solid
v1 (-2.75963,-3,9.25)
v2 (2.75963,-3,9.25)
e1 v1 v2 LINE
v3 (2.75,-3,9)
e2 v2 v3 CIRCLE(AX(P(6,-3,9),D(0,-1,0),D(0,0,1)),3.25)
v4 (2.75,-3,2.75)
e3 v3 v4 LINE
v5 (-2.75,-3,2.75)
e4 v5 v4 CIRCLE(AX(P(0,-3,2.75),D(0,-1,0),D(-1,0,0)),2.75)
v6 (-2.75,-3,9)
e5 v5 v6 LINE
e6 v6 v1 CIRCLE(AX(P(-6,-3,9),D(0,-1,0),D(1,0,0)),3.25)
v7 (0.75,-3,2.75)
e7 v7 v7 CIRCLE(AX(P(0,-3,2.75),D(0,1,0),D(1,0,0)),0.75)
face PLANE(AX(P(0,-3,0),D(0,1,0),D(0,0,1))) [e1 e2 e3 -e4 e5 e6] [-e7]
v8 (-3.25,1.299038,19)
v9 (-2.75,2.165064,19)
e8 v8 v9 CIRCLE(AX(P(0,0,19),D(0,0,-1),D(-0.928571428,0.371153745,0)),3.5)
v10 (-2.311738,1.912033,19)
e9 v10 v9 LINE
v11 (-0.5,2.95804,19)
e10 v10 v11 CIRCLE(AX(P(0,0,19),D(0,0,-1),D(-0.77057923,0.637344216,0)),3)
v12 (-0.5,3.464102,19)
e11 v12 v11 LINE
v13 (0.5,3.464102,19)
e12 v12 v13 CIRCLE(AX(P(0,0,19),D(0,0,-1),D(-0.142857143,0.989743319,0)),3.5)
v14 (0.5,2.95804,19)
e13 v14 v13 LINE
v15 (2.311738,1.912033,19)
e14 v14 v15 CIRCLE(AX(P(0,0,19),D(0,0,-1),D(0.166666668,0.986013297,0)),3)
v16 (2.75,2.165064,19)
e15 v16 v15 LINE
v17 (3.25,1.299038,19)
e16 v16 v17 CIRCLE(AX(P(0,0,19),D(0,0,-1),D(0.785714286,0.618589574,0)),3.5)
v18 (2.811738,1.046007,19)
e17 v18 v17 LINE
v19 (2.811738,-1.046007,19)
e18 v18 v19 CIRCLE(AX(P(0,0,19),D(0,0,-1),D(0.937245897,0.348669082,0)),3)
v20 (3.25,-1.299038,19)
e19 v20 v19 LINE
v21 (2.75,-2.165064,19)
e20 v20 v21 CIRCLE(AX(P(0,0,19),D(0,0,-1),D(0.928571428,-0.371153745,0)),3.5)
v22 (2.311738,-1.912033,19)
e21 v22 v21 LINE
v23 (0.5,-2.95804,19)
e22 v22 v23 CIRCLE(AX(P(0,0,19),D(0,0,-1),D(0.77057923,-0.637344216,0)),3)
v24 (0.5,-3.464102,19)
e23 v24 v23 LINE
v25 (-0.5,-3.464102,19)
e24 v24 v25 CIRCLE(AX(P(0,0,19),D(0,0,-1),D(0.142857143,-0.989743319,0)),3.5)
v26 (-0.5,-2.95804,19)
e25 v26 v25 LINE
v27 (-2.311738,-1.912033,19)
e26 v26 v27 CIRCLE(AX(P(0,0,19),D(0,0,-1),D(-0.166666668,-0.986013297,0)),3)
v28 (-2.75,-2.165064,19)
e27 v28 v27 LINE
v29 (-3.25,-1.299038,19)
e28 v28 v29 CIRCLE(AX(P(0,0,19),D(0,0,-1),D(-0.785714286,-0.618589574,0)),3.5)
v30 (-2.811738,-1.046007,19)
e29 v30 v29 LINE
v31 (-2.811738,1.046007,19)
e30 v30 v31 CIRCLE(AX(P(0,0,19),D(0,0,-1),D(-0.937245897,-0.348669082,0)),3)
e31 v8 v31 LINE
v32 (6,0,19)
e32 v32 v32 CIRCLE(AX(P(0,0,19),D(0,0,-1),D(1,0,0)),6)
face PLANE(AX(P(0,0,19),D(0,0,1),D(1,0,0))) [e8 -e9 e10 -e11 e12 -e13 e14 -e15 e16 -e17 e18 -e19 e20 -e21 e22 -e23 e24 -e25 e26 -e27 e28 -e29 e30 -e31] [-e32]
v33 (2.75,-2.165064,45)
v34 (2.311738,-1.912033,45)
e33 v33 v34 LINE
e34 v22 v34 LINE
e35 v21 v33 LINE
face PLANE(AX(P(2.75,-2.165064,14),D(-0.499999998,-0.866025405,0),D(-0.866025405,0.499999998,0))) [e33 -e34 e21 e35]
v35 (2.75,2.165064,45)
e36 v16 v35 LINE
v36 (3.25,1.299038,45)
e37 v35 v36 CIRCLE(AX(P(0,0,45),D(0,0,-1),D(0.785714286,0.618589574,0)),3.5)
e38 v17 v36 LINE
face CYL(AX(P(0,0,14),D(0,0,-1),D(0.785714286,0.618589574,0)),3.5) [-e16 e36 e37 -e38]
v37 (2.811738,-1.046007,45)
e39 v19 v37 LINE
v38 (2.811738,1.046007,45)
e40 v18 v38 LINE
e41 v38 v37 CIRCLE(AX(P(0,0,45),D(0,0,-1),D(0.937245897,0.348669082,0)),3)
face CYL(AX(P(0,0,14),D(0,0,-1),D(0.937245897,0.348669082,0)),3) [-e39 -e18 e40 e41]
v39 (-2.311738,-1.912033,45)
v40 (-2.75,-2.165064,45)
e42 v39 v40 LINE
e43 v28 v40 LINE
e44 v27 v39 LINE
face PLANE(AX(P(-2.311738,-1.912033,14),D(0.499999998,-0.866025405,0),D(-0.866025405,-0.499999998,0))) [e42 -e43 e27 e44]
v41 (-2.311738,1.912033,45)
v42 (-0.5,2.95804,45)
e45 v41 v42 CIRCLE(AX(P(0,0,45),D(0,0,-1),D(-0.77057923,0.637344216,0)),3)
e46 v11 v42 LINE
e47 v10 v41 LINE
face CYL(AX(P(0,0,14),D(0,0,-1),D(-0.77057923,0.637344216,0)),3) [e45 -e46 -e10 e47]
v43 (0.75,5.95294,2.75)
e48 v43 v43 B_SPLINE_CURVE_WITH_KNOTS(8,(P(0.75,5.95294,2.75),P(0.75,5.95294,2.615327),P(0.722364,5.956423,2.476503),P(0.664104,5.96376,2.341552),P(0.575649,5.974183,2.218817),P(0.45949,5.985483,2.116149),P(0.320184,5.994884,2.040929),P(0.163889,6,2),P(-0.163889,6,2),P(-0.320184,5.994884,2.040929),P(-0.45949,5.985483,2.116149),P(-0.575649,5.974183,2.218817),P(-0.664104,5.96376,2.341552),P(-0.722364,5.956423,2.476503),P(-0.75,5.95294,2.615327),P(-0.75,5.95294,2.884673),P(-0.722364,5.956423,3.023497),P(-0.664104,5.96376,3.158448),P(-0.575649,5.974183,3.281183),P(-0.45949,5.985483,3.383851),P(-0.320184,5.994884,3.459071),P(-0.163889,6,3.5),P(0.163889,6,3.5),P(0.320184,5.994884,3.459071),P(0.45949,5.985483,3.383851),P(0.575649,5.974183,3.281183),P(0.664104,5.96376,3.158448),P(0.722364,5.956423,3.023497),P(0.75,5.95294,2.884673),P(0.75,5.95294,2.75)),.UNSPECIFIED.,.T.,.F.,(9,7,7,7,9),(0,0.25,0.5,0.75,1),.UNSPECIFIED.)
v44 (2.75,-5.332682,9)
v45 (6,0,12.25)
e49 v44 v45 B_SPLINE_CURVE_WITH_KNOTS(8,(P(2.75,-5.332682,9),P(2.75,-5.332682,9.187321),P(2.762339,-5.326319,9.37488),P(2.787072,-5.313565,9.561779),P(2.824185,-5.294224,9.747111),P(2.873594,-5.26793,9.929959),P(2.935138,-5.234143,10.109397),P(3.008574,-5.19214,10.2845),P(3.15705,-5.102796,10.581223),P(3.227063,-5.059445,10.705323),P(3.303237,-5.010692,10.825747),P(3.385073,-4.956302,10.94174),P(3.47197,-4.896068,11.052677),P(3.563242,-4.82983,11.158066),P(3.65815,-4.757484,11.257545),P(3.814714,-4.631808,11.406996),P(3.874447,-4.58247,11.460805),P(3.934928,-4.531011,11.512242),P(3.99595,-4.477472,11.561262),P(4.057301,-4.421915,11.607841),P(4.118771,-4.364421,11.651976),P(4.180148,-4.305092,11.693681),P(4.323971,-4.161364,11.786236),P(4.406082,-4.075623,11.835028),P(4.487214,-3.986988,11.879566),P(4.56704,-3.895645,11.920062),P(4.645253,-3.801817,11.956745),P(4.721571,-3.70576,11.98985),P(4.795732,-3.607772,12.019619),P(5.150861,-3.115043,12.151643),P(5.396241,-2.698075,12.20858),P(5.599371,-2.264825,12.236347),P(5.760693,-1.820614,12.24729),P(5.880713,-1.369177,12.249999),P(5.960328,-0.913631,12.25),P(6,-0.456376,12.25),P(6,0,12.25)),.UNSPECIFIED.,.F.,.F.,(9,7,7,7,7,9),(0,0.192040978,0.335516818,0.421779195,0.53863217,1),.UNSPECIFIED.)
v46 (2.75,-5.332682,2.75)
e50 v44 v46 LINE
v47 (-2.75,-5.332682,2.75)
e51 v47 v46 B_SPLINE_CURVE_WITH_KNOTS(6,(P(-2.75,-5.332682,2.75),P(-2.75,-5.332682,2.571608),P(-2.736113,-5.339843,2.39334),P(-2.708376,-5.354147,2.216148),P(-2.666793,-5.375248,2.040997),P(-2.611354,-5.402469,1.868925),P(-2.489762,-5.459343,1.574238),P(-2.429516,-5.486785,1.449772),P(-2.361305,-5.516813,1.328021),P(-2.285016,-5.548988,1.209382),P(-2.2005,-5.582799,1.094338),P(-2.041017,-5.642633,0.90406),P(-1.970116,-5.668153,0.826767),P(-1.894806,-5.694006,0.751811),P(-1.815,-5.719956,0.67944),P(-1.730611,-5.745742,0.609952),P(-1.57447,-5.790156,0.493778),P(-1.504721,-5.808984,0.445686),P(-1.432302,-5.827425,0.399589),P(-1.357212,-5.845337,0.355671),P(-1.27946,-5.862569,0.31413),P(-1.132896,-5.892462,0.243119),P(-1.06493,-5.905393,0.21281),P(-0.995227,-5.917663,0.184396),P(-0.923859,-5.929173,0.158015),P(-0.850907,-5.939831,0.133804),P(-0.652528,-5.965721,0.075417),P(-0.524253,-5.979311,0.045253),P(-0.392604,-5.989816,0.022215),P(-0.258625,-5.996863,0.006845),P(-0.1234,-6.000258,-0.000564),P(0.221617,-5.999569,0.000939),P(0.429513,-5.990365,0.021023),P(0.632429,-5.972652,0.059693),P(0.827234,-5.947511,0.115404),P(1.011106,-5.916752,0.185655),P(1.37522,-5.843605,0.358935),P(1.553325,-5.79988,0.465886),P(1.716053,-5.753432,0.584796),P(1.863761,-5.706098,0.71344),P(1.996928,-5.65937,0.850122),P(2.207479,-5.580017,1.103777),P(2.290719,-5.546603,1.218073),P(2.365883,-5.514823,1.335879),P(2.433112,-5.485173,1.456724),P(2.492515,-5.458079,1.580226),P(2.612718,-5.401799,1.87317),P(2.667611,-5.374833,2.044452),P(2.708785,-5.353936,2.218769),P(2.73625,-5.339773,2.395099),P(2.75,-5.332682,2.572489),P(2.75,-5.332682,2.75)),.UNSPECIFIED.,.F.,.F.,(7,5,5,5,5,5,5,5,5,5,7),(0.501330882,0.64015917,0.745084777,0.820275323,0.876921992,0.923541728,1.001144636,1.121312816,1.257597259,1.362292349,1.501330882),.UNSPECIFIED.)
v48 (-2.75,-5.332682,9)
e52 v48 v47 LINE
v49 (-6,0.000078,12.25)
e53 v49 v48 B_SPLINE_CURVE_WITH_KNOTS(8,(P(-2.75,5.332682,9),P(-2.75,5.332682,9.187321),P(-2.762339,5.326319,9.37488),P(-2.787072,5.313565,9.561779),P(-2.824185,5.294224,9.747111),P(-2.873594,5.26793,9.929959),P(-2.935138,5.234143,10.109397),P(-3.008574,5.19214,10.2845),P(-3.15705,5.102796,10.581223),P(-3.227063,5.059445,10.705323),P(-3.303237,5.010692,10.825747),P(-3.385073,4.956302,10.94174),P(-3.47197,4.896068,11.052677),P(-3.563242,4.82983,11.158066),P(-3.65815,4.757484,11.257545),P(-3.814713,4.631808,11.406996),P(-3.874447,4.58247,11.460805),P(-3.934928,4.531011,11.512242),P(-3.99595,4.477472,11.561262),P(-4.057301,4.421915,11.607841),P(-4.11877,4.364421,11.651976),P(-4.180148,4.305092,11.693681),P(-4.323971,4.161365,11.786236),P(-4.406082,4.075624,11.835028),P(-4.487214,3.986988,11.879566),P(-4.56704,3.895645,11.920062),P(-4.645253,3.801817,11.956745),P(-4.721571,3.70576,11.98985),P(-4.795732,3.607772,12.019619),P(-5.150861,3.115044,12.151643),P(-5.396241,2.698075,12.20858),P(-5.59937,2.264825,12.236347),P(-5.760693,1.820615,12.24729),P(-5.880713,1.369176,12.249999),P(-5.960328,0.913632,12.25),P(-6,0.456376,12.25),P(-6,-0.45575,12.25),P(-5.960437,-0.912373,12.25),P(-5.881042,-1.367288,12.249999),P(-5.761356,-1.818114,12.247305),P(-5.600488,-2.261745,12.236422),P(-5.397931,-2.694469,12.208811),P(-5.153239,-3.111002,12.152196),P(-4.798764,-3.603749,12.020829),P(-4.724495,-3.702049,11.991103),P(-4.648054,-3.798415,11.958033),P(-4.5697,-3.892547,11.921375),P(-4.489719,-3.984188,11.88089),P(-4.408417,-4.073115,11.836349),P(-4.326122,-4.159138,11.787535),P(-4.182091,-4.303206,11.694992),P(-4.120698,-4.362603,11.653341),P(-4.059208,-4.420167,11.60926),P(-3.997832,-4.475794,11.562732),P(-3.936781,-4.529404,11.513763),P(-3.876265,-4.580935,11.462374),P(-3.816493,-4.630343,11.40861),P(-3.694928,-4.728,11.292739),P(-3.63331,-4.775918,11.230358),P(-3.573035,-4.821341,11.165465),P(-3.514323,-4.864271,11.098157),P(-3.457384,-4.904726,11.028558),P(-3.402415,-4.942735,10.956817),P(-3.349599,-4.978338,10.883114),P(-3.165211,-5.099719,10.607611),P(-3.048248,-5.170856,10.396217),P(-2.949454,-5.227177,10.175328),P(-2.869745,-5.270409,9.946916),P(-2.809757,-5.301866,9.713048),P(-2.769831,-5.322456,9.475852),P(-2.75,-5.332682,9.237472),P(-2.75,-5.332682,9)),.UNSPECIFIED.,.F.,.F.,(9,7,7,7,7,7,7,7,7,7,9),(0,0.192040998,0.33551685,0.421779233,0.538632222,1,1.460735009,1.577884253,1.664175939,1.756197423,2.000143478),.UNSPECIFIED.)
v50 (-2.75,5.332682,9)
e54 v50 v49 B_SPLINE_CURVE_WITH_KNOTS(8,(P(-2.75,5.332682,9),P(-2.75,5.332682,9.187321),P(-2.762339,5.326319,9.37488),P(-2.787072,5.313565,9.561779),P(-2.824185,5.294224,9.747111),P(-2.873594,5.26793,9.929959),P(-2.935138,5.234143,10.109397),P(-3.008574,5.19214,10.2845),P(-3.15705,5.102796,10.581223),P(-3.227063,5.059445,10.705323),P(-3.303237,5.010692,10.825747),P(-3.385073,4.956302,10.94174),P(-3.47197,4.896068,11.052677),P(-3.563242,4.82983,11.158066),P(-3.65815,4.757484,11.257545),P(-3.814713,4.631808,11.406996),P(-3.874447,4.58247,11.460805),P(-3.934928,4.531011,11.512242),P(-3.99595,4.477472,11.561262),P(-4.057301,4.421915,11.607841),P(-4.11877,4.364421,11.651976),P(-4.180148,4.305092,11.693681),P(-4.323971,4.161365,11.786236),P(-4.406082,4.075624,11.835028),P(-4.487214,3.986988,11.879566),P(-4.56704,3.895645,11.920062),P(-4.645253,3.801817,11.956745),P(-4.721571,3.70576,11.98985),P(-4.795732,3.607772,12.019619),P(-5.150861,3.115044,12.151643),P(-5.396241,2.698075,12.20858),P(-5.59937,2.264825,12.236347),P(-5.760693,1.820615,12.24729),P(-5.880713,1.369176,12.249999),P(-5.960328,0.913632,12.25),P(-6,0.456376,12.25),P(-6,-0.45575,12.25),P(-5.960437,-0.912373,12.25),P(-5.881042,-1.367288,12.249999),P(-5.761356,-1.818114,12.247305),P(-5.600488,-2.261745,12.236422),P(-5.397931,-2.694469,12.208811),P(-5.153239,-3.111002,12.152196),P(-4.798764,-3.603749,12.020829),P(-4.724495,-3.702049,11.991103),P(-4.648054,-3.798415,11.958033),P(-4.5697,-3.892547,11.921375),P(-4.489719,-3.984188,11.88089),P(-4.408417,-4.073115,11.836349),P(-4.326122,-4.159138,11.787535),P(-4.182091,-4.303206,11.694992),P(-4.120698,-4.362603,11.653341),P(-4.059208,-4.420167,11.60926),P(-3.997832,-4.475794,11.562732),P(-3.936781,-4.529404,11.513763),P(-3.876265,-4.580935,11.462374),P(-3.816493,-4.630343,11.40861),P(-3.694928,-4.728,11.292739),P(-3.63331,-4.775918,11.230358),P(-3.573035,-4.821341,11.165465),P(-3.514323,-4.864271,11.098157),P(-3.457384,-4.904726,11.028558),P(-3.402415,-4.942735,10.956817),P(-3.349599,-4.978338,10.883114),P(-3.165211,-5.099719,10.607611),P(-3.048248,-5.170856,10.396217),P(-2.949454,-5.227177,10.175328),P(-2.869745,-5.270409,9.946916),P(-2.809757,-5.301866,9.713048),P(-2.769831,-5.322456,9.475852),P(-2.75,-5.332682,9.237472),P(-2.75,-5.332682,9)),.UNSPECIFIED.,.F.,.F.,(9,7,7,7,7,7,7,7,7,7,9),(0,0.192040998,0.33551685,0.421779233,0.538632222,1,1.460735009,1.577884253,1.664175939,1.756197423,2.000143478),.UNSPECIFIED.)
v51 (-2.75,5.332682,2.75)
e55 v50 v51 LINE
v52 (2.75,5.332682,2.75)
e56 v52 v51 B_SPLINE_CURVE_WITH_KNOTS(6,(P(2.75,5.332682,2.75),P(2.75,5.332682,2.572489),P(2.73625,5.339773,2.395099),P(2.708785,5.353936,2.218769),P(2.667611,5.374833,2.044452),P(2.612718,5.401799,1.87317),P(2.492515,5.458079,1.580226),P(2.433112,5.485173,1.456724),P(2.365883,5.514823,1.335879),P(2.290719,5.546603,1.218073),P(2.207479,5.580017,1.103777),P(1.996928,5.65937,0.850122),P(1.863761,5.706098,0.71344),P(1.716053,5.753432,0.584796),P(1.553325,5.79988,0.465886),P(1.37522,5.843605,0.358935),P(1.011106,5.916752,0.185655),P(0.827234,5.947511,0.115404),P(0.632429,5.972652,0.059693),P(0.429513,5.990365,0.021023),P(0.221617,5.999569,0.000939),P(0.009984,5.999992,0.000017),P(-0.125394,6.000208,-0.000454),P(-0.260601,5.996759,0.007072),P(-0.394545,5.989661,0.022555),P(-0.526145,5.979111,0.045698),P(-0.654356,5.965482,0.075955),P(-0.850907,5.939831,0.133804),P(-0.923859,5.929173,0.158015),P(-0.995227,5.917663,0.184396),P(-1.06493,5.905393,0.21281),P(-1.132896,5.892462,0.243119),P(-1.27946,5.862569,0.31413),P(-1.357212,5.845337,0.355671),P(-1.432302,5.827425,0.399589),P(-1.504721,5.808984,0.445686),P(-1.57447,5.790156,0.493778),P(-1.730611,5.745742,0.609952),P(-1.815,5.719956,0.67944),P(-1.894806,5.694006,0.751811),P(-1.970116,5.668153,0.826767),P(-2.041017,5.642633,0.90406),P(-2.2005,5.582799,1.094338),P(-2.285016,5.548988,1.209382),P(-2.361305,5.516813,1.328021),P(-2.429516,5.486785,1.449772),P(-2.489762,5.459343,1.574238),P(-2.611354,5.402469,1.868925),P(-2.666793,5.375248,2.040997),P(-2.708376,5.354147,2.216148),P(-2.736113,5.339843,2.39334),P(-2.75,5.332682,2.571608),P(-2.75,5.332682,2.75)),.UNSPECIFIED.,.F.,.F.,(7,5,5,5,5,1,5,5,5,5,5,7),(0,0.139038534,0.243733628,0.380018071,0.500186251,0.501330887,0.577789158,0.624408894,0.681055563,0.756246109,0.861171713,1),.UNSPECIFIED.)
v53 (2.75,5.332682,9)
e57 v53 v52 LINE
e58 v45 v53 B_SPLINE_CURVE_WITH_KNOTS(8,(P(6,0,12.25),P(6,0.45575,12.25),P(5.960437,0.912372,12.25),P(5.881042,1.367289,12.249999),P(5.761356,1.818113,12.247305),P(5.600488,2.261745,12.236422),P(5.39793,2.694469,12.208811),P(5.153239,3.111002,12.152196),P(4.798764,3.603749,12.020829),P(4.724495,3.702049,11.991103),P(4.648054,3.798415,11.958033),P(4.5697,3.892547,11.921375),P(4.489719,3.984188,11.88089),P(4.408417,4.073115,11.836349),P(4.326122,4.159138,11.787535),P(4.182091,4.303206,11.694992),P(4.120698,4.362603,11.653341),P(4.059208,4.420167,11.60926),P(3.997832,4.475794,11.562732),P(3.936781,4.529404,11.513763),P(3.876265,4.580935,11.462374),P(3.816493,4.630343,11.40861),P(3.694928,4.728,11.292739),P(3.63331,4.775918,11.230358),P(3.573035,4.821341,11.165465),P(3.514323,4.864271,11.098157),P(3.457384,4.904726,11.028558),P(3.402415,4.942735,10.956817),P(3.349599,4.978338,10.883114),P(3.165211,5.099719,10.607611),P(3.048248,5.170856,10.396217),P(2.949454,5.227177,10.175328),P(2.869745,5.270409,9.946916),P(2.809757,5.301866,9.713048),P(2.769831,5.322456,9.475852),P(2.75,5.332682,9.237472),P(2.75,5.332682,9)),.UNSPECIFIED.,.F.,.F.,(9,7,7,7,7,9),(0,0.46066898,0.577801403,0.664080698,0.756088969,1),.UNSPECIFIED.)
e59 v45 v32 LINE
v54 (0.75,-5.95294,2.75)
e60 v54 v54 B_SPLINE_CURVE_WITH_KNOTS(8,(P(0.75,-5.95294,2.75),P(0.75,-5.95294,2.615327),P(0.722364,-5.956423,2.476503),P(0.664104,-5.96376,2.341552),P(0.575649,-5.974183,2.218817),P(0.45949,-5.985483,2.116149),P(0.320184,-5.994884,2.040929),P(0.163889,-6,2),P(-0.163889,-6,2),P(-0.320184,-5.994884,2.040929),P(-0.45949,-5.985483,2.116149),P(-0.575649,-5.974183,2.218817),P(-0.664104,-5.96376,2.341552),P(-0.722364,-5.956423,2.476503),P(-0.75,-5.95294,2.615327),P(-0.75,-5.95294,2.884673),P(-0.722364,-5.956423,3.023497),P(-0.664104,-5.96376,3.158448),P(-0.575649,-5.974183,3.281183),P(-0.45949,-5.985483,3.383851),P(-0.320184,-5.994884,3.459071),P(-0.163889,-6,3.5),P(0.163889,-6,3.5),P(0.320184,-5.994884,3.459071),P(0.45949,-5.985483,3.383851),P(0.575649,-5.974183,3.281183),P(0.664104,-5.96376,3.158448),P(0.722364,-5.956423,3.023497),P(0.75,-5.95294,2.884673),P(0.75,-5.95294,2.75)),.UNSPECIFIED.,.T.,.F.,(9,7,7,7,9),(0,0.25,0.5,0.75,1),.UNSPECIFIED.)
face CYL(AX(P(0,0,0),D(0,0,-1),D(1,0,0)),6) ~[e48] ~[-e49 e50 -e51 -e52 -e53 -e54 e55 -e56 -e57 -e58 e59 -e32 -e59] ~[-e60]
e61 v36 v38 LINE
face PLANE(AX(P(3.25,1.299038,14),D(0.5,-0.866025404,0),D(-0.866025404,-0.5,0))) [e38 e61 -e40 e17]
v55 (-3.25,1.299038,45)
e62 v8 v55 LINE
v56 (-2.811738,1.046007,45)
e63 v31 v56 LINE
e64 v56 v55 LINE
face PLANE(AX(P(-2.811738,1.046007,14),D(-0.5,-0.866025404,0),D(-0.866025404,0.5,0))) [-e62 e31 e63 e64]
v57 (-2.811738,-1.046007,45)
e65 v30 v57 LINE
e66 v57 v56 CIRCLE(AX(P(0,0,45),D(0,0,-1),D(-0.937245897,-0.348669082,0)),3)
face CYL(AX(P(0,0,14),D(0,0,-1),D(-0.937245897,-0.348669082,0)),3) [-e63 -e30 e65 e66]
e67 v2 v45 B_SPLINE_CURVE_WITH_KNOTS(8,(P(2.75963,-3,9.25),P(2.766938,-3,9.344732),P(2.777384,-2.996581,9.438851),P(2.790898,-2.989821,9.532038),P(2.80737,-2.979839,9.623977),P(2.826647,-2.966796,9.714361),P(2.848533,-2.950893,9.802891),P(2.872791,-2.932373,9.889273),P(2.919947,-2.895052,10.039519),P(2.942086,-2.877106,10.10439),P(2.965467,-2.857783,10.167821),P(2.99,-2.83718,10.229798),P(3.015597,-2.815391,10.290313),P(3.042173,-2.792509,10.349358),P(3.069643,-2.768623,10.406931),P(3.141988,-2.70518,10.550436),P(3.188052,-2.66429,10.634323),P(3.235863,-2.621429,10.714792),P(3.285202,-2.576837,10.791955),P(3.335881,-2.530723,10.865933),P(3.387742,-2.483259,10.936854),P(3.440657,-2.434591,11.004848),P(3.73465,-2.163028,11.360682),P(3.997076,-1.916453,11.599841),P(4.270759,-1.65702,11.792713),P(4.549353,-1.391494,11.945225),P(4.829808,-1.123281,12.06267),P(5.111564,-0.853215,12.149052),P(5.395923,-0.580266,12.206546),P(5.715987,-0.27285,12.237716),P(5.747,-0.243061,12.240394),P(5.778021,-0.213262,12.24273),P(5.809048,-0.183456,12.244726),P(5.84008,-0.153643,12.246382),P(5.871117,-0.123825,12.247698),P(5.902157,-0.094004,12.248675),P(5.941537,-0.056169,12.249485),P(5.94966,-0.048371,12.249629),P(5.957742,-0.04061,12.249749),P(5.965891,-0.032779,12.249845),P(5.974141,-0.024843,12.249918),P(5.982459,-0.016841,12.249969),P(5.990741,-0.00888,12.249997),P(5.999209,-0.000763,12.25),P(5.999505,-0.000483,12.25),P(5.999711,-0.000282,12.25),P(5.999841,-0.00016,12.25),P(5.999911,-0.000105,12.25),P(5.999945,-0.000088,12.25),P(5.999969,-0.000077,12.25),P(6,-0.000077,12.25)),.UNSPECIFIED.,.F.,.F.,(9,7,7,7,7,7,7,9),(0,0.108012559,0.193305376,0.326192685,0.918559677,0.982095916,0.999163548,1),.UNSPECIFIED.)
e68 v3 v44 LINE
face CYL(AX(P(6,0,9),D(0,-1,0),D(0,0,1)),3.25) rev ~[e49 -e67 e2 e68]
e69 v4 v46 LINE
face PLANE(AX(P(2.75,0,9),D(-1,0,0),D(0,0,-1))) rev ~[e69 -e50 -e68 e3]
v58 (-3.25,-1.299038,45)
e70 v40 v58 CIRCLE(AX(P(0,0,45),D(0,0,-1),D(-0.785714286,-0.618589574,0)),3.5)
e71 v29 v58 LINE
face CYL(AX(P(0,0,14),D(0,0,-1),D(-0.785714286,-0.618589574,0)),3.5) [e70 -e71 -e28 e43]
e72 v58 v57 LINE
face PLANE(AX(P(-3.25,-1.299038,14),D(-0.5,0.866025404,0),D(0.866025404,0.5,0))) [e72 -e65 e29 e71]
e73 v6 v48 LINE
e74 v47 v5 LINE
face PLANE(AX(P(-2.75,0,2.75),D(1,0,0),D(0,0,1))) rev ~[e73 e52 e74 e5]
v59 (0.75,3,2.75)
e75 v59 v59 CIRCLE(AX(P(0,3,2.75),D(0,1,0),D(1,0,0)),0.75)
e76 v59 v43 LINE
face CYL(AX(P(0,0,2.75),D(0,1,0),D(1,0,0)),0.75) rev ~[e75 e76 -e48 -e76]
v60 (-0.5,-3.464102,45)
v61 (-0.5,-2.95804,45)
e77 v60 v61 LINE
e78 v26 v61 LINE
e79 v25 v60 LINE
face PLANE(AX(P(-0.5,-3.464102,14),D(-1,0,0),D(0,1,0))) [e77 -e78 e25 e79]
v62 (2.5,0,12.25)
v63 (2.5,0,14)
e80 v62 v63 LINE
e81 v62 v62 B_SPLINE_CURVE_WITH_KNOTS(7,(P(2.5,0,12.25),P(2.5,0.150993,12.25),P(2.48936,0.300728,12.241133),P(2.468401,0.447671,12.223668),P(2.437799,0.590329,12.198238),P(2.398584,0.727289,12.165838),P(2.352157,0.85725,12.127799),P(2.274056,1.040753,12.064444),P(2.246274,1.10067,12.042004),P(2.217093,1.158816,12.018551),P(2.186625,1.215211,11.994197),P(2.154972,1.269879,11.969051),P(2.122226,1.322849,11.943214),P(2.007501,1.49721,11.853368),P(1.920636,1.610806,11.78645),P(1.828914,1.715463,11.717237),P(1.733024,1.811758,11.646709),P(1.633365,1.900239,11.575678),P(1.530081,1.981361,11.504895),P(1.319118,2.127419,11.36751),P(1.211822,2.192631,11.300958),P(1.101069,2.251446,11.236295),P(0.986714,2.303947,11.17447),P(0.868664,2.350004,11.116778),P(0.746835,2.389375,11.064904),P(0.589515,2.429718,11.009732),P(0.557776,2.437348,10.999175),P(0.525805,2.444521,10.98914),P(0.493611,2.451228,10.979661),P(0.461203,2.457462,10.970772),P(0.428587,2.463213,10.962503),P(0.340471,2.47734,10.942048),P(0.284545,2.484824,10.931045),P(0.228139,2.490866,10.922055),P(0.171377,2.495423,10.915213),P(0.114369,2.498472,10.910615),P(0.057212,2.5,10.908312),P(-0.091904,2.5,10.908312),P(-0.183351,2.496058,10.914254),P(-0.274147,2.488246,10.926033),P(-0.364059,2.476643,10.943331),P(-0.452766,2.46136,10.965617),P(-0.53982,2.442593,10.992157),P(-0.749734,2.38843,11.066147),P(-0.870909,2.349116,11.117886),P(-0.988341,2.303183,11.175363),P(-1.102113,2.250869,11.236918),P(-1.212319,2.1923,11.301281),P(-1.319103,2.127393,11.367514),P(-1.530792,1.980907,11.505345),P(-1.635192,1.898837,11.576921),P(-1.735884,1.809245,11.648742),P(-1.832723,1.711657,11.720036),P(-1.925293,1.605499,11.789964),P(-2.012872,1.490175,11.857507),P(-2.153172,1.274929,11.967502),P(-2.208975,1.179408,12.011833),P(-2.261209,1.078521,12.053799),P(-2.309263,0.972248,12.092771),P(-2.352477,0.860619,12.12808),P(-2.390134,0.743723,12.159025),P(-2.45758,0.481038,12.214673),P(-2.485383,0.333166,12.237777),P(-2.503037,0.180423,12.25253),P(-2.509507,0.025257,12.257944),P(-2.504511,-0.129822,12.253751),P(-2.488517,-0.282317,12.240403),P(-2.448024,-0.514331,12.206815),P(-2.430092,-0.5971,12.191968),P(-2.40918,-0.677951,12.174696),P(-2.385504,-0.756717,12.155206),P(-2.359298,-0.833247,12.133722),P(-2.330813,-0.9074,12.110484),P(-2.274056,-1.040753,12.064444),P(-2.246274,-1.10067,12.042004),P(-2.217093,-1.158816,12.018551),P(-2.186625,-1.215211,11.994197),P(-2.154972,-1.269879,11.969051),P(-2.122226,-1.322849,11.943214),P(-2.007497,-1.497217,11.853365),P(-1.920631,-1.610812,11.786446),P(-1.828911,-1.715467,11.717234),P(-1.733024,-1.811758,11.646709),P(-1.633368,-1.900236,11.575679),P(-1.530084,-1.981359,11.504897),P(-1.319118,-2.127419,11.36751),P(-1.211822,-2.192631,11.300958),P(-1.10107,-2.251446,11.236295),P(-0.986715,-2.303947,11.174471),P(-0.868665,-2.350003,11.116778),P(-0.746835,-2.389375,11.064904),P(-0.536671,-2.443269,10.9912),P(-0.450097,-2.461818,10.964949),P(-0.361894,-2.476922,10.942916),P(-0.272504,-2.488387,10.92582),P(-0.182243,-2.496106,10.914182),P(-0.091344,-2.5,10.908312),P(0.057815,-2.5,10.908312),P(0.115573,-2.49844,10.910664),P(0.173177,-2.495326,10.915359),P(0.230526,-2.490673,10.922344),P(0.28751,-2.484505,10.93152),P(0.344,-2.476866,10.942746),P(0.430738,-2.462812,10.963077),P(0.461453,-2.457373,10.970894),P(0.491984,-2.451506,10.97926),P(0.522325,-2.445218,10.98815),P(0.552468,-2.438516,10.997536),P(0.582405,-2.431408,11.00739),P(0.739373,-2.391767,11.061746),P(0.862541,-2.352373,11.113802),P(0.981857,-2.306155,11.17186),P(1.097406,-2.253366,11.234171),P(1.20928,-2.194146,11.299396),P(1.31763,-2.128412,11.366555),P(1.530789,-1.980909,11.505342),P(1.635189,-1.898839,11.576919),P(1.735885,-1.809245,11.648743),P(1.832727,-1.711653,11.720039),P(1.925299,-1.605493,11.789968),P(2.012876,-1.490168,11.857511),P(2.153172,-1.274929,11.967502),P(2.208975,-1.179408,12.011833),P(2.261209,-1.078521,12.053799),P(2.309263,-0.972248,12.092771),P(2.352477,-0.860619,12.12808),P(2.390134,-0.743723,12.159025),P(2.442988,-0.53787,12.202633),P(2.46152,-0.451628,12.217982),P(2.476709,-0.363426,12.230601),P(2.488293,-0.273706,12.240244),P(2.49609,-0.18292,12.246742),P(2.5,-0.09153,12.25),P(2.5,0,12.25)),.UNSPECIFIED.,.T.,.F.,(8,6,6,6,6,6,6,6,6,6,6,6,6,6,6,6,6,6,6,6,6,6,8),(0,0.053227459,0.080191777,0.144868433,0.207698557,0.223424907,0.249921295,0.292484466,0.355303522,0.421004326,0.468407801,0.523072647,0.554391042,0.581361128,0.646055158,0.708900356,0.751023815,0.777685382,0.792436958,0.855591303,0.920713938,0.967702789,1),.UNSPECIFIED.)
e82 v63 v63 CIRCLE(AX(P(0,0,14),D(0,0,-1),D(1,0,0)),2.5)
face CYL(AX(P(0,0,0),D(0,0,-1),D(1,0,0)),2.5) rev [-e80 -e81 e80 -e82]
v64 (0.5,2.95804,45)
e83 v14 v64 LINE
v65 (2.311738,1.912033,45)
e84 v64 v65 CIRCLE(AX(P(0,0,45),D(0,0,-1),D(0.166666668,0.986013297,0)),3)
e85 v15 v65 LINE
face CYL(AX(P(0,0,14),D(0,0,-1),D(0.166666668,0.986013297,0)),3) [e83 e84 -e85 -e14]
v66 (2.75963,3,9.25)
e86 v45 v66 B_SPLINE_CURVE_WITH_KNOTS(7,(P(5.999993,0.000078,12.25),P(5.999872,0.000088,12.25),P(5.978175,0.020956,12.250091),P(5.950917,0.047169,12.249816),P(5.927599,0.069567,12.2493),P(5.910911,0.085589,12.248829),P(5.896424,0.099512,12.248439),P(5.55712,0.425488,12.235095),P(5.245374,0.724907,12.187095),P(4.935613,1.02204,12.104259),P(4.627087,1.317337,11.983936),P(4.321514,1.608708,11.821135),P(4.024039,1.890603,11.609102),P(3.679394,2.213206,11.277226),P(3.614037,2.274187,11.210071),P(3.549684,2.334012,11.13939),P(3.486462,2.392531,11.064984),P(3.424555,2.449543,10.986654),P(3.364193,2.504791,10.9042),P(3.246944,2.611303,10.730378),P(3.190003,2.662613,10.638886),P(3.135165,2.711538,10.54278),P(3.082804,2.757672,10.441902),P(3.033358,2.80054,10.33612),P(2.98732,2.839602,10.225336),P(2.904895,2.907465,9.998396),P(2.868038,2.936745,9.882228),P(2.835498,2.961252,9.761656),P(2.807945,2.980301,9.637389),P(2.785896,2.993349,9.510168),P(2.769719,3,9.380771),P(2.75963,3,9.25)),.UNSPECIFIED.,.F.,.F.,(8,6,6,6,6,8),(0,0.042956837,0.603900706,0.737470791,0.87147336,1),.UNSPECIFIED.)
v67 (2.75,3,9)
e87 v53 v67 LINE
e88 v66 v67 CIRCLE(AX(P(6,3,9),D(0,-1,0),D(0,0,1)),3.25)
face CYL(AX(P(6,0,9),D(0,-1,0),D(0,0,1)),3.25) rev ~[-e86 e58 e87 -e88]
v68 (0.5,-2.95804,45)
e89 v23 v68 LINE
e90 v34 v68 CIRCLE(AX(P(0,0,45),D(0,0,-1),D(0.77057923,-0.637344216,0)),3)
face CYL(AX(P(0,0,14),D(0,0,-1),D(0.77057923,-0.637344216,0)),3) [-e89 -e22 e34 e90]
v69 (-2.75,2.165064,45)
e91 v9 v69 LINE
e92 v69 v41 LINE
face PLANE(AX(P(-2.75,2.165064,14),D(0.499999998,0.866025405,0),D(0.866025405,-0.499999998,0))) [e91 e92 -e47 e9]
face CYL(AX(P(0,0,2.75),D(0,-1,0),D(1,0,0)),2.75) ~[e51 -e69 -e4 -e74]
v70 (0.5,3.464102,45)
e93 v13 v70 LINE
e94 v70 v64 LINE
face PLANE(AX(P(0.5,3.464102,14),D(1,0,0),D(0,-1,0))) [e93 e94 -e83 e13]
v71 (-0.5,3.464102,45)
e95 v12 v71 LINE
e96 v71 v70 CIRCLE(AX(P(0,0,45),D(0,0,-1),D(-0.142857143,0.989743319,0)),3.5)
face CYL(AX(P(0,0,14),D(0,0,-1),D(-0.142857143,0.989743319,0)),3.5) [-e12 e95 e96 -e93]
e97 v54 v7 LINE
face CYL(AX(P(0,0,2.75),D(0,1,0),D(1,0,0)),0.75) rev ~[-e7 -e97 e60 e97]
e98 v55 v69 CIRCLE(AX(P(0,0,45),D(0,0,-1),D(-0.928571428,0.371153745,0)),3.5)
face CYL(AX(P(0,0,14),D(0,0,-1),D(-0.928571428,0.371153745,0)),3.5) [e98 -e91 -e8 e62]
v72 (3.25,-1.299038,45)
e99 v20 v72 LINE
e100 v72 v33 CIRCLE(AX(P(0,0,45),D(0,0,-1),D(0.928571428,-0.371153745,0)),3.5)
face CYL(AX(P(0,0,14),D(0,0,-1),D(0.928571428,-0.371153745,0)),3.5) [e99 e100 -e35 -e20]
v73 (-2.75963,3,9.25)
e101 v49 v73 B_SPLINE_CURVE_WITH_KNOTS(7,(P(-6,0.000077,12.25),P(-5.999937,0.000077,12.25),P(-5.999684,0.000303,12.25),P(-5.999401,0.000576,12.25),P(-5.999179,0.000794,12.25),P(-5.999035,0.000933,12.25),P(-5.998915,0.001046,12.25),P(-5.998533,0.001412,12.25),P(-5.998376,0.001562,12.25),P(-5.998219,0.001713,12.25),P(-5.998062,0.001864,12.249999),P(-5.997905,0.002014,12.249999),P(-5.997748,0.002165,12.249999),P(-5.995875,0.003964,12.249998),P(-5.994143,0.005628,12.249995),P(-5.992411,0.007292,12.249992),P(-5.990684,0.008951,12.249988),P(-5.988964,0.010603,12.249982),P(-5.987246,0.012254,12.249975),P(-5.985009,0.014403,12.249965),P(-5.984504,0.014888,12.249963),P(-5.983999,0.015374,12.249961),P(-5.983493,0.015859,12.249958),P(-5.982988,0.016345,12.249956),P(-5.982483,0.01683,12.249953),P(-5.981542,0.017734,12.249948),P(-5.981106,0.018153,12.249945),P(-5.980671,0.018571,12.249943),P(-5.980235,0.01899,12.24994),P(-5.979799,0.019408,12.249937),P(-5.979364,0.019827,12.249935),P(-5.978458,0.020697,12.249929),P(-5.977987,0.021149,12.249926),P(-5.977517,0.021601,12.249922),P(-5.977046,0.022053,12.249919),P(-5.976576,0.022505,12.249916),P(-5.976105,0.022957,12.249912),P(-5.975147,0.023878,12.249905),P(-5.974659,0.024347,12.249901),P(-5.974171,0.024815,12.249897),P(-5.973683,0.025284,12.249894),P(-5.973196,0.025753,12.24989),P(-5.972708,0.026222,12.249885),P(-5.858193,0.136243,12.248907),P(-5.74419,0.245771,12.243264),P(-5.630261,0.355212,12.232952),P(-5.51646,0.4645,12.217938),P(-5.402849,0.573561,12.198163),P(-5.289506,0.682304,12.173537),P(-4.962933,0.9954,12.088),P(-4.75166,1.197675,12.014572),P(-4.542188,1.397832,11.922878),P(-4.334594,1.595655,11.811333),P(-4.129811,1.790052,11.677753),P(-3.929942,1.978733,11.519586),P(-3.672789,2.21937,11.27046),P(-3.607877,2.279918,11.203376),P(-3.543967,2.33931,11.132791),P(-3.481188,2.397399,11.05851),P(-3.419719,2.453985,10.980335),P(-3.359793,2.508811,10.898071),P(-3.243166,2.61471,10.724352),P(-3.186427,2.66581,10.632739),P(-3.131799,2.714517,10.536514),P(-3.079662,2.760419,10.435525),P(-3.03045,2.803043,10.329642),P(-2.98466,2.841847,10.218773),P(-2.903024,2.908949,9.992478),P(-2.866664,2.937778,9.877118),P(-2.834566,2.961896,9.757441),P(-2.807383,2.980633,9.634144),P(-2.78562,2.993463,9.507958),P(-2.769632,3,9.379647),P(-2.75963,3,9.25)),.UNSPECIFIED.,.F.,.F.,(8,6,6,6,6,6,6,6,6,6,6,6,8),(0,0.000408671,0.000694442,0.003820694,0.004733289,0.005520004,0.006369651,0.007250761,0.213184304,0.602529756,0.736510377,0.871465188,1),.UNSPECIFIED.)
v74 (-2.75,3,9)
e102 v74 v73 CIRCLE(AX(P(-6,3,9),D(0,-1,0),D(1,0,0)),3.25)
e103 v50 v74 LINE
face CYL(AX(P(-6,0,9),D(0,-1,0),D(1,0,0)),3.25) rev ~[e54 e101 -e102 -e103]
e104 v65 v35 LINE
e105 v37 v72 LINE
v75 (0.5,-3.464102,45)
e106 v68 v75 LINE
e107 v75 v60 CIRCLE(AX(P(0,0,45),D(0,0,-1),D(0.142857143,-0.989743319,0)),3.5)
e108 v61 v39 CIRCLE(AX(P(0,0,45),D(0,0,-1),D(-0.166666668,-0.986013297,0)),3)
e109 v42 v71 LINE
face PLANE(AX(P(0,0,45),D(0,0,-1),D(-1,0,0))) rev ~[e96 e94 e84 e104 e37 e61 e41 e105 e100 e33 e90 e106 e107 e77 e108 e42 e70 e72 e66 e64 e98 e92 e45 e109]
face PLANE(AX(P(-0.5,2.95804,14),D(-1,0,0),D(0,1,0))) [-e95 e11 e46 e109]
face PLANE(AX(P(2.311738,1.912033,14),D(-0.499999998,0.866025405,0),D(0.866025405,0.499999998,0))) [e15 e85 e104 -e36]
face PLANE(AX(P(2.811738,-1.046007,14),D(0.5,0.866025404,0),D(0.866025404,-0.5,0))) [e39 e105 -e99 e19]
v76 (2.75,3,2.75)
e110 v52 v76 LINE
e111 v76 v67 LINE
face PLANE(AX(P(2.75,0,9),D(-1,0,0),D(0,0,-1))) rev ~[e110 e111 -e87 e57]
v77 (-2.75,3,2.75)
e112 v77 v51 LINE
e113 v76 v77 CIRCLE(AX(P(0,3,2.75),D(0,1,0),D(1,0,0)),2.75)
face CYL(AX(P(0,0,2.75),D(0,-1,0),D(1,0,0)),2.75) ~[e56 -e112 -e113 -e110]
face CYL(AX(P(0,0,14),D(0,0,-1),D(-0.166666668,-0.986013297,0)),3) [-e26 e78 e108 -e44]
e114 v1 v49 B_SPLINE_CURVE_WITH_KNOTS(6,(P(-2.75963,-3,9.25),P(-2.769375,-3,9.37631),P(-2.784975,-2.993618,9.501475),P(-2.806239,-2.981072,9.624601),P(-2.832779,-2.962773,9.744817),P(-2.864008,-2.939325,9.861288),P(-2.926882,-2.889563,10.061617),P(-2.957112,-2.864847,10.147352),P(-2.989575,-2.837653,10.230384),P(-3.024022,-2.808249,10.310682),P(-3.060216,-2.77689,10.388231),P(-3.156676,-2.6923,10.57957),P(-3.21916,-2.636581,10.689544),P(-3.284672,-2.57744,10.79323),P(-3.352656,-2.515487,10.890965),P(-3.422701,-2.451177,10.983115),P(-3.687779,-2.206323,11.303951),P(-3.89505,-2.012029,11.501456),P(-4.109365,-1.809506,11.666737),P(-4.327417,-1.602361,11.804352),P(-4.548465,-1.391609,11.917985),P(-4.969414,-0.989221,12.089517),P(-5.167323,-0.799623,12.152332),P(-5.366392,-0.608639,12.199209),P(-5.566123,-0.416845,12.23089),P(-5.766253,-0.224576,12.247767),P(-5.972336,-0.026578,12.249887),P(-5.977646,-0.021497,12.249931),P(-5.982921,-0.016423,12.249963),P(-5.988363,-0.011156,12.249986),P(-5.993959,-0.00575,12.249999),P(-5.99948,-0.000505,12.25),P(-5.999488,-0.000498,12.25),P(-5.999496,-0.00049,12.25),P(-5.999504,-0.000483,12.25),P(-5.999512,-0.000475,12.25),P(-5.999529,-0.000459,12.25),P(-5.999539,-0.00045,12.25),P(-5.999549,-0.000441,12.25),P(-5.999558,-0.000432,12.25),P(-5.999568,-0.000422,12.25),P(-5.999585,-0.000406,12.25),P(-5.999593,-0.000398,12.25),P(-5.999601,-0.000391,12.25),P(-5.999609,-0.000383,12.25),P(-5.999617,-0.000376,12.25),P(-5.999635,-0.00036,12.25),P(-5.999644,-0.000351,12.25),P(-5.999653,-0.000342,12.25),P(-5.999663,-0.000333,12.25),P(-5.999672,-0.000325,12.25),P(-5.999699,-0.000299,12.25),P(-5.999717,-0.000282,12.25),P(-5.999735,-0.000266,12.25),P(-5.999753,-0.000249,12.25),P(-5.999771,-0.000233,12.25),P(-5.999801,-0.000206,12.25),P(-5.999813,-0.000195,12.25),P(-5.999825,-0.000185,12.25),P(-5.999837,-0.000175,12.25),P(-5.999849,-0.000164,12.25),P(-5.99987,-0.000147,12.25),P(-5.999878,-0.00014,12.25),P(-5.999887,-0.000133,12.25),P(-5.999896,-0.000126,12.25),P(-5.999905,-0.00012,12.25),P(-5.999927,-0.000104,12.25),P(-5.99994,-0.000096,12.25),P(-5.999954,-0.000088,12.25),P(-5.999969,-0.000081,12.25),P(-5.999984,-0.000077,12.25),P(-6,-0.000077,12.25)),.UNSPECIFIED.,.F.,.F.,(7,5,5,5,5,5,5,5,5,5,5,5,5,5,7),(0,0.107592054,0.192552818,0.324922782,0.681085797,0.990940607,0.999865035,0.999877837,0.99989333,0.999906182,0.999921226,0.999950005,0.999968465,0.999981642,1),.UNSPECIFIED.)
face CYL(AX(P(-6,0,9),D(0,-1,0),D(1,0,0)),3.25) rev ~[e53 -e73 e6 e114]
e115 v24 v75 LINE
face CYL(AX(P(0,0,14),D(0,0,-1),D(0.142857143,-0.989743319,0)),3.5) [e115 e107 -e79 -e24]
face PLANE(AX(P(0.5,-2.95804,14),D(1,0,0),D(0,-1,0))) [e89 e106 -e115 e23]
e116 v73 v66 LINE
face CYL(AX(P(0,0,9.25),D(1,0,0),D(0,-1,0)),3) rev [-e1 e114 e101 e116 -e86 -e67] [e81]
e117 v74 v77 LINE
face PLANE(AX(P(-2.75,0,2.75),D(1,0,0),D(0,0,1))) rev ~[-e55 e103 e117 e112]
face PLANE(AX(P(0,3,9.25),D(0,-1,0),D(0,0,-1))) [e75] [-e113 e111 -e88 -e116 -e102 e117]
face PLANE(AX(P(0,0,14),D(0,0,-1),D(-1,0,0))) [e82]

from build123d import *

# Parameters (mm, degrees)
SKETCH_1_R          = 6
SKETCH_1_R_2        = 2.5
EXTRUDE_1_DEPTH     = 19
SKETCH_2_OUTSIDE_W  = 19.096
SKETCH_2_OUTSIDE_H  = 26.096
SKETCH_2_OUTSIDE_R  = 0.75
CUT_EXTRUDE_1_DEPTH = 9.5
CUT_EXTRUDE_2_DEPTH = 9.5
EXTRUDE_2_DEPTH     = 31


with BuildPart() as part:
    # 草图1 → 凸台-拉伸1 (new body)
    with BuildSketch(Plane.XY):
        Circle(SKETCH_1_R)
        Circle(SKETCH_1_R_2, mode=Mode.SUBTRACT)
    extrude(amount=EXTRUDE_1_DEPTH)

    # 草图2 outside → 切除-拉伸1 (cut, symmetric)
    with BuildSketch(Plane(origin=(0, 0, 0), x_dir=(1, 0, 0), z_dir=(0, 1, 0))):
        with Locations((0, -9.5)):
            Rectangle(SKETCH_2_OUTSIDE_W, SKETCH_2_OUTSIDE_H)
        with BuildLine():
            Line((-2.75, -2.75), (-2.75, -9))
            ThreePointArc((-2.75, -9), (-3.701902961, -11.298097039), (-6, -12.25))
            Line((-6, -12.25), (-6, -19))
            Line((-6, -19), (6, -19))
            Line((6, -19), (6, -12.25))
            ThreePointArc((6, -12.25), (3.701902961, -11.298097039), (2.75, -9))
            Line((2.75, -9), (2.75, -2.75))
            ThreePointArc((2.75, -2.75), (0, 0), (-2.75, -2.75))
        make_face(mode=Mode.SUBTRACT)
        with Locations((0, -2.75)):
            Circle(SKETCH_2_OUTSIDE_R)
    extrude(amount=CUT_EXTRUDE_1_DEPTH, both=True, mode=Mode.SUBTRACT)

    # 草图3 → 切除-拉伸2 (cut, symmetric)
    with BuildSketch(Plane(origin=(0, 0, 0), x_dir=(0, 0, -1), z_dir=(1, 0, 0))):
        with BuildLine():
            Line((-9.250000001, 3), (0, 3))
            Line((0, 3), (0, -3))
            Line((0, -3), (-9.250000001, -3))
            ThreePointArc((-9.250000001, -3), (-12.250000001, 0), (-9.250000001, 3))
        make_face()
    extrude(amount=CUT_EXTRUDE_2_DEPTH, both=True, mode=Mode.SUBTRACT)

    # 草图5 → 凸台-拉伸2 (add)
    with BuildSketch(Plane(origin=(0, 0, 14), x_dir=(-1, 0, 0), z_dir=(0, 0, -1))):
        with BuildLine():
            Line((-0.5, 3.464101615), (-0.5, 2.958039892))
            ThreePointArc((-0.5, 2.958039892), (-1.5, 2.598076211), (-2.311737691, 1.912032648))
            Line((-2.311737691, 1.912032648), (-2.75, 2.165063509))
            ThreePointArc((-2.75, 2.165063509), (-3.031088913, 1.75), (-3.25, 1.299038106))
            Line((-3.25, 1.299038106), (-2.811737691, 1.046007244))
            ThreePointArc((-2.811737691, 1.046007244), (-3, 0), (-2.811737691, -1.046007244))
            Line((-2.811737691, -1.046007244), (-3.25, -1.299038106))
            ThreePointArc((-3.25, -1.299038106), (-3.031088913, -1.75), (-2.75, -2.165063509))
            Line((-2.75, -2.165063509), (-2.311737691, -1.912032648))
            ThreePointArc((-2.311737691, -1.912032648), (-1.5, -2.598076211), (-0.5, -2.958039892))
            Line((-0.5, -2.958039892), (-0.5, -3.464101615))
            ThreePointArc((-0.5, -3.464101615), (0, -3.5), (0.5, -3.464101615))
            Line((0.5, -3.464101615), (0.5, -2.958039892))
            ThreePointArc((0.5, -2.958039892), (1.5, -2.598076211), (2.311737691, -1.912032648))
            Line((2.311737691, -1.912032648), (2.75, -2.165063509))
            ThreePointArc((2.75, -2.165063509), (3.031088913, -1.75), (3.25, -1.299038106))
            Line((3.25, -1.299038106), (2.811737691, -1.046007244))
            ThreePointArc((2.811737691, -1.046007244), (3, 0), (2.811737691, 1.046007244))
            Line((2.811737691, 1.046007244), (3.25, 1.299038106))
            ThreePointArc((3.25, 1.299038106), (3.031088913, 1.75), (2.75, 2.165063509))
            Line((2.75, 2.165063509), (2.311737691, 1.912032648))
            ThreePointArc((2.311737691, 1.912032648), (1.5, 2.598076211), (0.5, 2.958039892))
            Line((0.5, 2.958039892), (0.5, 3.464101615))
            ThreePointArc((0.5, 3.464101615), (0, 3.5), (-0.5, 3.464101615))
        make_face()
    extrude(amount=-EXTRUDE_2_DEPTH)


solid = part.part
